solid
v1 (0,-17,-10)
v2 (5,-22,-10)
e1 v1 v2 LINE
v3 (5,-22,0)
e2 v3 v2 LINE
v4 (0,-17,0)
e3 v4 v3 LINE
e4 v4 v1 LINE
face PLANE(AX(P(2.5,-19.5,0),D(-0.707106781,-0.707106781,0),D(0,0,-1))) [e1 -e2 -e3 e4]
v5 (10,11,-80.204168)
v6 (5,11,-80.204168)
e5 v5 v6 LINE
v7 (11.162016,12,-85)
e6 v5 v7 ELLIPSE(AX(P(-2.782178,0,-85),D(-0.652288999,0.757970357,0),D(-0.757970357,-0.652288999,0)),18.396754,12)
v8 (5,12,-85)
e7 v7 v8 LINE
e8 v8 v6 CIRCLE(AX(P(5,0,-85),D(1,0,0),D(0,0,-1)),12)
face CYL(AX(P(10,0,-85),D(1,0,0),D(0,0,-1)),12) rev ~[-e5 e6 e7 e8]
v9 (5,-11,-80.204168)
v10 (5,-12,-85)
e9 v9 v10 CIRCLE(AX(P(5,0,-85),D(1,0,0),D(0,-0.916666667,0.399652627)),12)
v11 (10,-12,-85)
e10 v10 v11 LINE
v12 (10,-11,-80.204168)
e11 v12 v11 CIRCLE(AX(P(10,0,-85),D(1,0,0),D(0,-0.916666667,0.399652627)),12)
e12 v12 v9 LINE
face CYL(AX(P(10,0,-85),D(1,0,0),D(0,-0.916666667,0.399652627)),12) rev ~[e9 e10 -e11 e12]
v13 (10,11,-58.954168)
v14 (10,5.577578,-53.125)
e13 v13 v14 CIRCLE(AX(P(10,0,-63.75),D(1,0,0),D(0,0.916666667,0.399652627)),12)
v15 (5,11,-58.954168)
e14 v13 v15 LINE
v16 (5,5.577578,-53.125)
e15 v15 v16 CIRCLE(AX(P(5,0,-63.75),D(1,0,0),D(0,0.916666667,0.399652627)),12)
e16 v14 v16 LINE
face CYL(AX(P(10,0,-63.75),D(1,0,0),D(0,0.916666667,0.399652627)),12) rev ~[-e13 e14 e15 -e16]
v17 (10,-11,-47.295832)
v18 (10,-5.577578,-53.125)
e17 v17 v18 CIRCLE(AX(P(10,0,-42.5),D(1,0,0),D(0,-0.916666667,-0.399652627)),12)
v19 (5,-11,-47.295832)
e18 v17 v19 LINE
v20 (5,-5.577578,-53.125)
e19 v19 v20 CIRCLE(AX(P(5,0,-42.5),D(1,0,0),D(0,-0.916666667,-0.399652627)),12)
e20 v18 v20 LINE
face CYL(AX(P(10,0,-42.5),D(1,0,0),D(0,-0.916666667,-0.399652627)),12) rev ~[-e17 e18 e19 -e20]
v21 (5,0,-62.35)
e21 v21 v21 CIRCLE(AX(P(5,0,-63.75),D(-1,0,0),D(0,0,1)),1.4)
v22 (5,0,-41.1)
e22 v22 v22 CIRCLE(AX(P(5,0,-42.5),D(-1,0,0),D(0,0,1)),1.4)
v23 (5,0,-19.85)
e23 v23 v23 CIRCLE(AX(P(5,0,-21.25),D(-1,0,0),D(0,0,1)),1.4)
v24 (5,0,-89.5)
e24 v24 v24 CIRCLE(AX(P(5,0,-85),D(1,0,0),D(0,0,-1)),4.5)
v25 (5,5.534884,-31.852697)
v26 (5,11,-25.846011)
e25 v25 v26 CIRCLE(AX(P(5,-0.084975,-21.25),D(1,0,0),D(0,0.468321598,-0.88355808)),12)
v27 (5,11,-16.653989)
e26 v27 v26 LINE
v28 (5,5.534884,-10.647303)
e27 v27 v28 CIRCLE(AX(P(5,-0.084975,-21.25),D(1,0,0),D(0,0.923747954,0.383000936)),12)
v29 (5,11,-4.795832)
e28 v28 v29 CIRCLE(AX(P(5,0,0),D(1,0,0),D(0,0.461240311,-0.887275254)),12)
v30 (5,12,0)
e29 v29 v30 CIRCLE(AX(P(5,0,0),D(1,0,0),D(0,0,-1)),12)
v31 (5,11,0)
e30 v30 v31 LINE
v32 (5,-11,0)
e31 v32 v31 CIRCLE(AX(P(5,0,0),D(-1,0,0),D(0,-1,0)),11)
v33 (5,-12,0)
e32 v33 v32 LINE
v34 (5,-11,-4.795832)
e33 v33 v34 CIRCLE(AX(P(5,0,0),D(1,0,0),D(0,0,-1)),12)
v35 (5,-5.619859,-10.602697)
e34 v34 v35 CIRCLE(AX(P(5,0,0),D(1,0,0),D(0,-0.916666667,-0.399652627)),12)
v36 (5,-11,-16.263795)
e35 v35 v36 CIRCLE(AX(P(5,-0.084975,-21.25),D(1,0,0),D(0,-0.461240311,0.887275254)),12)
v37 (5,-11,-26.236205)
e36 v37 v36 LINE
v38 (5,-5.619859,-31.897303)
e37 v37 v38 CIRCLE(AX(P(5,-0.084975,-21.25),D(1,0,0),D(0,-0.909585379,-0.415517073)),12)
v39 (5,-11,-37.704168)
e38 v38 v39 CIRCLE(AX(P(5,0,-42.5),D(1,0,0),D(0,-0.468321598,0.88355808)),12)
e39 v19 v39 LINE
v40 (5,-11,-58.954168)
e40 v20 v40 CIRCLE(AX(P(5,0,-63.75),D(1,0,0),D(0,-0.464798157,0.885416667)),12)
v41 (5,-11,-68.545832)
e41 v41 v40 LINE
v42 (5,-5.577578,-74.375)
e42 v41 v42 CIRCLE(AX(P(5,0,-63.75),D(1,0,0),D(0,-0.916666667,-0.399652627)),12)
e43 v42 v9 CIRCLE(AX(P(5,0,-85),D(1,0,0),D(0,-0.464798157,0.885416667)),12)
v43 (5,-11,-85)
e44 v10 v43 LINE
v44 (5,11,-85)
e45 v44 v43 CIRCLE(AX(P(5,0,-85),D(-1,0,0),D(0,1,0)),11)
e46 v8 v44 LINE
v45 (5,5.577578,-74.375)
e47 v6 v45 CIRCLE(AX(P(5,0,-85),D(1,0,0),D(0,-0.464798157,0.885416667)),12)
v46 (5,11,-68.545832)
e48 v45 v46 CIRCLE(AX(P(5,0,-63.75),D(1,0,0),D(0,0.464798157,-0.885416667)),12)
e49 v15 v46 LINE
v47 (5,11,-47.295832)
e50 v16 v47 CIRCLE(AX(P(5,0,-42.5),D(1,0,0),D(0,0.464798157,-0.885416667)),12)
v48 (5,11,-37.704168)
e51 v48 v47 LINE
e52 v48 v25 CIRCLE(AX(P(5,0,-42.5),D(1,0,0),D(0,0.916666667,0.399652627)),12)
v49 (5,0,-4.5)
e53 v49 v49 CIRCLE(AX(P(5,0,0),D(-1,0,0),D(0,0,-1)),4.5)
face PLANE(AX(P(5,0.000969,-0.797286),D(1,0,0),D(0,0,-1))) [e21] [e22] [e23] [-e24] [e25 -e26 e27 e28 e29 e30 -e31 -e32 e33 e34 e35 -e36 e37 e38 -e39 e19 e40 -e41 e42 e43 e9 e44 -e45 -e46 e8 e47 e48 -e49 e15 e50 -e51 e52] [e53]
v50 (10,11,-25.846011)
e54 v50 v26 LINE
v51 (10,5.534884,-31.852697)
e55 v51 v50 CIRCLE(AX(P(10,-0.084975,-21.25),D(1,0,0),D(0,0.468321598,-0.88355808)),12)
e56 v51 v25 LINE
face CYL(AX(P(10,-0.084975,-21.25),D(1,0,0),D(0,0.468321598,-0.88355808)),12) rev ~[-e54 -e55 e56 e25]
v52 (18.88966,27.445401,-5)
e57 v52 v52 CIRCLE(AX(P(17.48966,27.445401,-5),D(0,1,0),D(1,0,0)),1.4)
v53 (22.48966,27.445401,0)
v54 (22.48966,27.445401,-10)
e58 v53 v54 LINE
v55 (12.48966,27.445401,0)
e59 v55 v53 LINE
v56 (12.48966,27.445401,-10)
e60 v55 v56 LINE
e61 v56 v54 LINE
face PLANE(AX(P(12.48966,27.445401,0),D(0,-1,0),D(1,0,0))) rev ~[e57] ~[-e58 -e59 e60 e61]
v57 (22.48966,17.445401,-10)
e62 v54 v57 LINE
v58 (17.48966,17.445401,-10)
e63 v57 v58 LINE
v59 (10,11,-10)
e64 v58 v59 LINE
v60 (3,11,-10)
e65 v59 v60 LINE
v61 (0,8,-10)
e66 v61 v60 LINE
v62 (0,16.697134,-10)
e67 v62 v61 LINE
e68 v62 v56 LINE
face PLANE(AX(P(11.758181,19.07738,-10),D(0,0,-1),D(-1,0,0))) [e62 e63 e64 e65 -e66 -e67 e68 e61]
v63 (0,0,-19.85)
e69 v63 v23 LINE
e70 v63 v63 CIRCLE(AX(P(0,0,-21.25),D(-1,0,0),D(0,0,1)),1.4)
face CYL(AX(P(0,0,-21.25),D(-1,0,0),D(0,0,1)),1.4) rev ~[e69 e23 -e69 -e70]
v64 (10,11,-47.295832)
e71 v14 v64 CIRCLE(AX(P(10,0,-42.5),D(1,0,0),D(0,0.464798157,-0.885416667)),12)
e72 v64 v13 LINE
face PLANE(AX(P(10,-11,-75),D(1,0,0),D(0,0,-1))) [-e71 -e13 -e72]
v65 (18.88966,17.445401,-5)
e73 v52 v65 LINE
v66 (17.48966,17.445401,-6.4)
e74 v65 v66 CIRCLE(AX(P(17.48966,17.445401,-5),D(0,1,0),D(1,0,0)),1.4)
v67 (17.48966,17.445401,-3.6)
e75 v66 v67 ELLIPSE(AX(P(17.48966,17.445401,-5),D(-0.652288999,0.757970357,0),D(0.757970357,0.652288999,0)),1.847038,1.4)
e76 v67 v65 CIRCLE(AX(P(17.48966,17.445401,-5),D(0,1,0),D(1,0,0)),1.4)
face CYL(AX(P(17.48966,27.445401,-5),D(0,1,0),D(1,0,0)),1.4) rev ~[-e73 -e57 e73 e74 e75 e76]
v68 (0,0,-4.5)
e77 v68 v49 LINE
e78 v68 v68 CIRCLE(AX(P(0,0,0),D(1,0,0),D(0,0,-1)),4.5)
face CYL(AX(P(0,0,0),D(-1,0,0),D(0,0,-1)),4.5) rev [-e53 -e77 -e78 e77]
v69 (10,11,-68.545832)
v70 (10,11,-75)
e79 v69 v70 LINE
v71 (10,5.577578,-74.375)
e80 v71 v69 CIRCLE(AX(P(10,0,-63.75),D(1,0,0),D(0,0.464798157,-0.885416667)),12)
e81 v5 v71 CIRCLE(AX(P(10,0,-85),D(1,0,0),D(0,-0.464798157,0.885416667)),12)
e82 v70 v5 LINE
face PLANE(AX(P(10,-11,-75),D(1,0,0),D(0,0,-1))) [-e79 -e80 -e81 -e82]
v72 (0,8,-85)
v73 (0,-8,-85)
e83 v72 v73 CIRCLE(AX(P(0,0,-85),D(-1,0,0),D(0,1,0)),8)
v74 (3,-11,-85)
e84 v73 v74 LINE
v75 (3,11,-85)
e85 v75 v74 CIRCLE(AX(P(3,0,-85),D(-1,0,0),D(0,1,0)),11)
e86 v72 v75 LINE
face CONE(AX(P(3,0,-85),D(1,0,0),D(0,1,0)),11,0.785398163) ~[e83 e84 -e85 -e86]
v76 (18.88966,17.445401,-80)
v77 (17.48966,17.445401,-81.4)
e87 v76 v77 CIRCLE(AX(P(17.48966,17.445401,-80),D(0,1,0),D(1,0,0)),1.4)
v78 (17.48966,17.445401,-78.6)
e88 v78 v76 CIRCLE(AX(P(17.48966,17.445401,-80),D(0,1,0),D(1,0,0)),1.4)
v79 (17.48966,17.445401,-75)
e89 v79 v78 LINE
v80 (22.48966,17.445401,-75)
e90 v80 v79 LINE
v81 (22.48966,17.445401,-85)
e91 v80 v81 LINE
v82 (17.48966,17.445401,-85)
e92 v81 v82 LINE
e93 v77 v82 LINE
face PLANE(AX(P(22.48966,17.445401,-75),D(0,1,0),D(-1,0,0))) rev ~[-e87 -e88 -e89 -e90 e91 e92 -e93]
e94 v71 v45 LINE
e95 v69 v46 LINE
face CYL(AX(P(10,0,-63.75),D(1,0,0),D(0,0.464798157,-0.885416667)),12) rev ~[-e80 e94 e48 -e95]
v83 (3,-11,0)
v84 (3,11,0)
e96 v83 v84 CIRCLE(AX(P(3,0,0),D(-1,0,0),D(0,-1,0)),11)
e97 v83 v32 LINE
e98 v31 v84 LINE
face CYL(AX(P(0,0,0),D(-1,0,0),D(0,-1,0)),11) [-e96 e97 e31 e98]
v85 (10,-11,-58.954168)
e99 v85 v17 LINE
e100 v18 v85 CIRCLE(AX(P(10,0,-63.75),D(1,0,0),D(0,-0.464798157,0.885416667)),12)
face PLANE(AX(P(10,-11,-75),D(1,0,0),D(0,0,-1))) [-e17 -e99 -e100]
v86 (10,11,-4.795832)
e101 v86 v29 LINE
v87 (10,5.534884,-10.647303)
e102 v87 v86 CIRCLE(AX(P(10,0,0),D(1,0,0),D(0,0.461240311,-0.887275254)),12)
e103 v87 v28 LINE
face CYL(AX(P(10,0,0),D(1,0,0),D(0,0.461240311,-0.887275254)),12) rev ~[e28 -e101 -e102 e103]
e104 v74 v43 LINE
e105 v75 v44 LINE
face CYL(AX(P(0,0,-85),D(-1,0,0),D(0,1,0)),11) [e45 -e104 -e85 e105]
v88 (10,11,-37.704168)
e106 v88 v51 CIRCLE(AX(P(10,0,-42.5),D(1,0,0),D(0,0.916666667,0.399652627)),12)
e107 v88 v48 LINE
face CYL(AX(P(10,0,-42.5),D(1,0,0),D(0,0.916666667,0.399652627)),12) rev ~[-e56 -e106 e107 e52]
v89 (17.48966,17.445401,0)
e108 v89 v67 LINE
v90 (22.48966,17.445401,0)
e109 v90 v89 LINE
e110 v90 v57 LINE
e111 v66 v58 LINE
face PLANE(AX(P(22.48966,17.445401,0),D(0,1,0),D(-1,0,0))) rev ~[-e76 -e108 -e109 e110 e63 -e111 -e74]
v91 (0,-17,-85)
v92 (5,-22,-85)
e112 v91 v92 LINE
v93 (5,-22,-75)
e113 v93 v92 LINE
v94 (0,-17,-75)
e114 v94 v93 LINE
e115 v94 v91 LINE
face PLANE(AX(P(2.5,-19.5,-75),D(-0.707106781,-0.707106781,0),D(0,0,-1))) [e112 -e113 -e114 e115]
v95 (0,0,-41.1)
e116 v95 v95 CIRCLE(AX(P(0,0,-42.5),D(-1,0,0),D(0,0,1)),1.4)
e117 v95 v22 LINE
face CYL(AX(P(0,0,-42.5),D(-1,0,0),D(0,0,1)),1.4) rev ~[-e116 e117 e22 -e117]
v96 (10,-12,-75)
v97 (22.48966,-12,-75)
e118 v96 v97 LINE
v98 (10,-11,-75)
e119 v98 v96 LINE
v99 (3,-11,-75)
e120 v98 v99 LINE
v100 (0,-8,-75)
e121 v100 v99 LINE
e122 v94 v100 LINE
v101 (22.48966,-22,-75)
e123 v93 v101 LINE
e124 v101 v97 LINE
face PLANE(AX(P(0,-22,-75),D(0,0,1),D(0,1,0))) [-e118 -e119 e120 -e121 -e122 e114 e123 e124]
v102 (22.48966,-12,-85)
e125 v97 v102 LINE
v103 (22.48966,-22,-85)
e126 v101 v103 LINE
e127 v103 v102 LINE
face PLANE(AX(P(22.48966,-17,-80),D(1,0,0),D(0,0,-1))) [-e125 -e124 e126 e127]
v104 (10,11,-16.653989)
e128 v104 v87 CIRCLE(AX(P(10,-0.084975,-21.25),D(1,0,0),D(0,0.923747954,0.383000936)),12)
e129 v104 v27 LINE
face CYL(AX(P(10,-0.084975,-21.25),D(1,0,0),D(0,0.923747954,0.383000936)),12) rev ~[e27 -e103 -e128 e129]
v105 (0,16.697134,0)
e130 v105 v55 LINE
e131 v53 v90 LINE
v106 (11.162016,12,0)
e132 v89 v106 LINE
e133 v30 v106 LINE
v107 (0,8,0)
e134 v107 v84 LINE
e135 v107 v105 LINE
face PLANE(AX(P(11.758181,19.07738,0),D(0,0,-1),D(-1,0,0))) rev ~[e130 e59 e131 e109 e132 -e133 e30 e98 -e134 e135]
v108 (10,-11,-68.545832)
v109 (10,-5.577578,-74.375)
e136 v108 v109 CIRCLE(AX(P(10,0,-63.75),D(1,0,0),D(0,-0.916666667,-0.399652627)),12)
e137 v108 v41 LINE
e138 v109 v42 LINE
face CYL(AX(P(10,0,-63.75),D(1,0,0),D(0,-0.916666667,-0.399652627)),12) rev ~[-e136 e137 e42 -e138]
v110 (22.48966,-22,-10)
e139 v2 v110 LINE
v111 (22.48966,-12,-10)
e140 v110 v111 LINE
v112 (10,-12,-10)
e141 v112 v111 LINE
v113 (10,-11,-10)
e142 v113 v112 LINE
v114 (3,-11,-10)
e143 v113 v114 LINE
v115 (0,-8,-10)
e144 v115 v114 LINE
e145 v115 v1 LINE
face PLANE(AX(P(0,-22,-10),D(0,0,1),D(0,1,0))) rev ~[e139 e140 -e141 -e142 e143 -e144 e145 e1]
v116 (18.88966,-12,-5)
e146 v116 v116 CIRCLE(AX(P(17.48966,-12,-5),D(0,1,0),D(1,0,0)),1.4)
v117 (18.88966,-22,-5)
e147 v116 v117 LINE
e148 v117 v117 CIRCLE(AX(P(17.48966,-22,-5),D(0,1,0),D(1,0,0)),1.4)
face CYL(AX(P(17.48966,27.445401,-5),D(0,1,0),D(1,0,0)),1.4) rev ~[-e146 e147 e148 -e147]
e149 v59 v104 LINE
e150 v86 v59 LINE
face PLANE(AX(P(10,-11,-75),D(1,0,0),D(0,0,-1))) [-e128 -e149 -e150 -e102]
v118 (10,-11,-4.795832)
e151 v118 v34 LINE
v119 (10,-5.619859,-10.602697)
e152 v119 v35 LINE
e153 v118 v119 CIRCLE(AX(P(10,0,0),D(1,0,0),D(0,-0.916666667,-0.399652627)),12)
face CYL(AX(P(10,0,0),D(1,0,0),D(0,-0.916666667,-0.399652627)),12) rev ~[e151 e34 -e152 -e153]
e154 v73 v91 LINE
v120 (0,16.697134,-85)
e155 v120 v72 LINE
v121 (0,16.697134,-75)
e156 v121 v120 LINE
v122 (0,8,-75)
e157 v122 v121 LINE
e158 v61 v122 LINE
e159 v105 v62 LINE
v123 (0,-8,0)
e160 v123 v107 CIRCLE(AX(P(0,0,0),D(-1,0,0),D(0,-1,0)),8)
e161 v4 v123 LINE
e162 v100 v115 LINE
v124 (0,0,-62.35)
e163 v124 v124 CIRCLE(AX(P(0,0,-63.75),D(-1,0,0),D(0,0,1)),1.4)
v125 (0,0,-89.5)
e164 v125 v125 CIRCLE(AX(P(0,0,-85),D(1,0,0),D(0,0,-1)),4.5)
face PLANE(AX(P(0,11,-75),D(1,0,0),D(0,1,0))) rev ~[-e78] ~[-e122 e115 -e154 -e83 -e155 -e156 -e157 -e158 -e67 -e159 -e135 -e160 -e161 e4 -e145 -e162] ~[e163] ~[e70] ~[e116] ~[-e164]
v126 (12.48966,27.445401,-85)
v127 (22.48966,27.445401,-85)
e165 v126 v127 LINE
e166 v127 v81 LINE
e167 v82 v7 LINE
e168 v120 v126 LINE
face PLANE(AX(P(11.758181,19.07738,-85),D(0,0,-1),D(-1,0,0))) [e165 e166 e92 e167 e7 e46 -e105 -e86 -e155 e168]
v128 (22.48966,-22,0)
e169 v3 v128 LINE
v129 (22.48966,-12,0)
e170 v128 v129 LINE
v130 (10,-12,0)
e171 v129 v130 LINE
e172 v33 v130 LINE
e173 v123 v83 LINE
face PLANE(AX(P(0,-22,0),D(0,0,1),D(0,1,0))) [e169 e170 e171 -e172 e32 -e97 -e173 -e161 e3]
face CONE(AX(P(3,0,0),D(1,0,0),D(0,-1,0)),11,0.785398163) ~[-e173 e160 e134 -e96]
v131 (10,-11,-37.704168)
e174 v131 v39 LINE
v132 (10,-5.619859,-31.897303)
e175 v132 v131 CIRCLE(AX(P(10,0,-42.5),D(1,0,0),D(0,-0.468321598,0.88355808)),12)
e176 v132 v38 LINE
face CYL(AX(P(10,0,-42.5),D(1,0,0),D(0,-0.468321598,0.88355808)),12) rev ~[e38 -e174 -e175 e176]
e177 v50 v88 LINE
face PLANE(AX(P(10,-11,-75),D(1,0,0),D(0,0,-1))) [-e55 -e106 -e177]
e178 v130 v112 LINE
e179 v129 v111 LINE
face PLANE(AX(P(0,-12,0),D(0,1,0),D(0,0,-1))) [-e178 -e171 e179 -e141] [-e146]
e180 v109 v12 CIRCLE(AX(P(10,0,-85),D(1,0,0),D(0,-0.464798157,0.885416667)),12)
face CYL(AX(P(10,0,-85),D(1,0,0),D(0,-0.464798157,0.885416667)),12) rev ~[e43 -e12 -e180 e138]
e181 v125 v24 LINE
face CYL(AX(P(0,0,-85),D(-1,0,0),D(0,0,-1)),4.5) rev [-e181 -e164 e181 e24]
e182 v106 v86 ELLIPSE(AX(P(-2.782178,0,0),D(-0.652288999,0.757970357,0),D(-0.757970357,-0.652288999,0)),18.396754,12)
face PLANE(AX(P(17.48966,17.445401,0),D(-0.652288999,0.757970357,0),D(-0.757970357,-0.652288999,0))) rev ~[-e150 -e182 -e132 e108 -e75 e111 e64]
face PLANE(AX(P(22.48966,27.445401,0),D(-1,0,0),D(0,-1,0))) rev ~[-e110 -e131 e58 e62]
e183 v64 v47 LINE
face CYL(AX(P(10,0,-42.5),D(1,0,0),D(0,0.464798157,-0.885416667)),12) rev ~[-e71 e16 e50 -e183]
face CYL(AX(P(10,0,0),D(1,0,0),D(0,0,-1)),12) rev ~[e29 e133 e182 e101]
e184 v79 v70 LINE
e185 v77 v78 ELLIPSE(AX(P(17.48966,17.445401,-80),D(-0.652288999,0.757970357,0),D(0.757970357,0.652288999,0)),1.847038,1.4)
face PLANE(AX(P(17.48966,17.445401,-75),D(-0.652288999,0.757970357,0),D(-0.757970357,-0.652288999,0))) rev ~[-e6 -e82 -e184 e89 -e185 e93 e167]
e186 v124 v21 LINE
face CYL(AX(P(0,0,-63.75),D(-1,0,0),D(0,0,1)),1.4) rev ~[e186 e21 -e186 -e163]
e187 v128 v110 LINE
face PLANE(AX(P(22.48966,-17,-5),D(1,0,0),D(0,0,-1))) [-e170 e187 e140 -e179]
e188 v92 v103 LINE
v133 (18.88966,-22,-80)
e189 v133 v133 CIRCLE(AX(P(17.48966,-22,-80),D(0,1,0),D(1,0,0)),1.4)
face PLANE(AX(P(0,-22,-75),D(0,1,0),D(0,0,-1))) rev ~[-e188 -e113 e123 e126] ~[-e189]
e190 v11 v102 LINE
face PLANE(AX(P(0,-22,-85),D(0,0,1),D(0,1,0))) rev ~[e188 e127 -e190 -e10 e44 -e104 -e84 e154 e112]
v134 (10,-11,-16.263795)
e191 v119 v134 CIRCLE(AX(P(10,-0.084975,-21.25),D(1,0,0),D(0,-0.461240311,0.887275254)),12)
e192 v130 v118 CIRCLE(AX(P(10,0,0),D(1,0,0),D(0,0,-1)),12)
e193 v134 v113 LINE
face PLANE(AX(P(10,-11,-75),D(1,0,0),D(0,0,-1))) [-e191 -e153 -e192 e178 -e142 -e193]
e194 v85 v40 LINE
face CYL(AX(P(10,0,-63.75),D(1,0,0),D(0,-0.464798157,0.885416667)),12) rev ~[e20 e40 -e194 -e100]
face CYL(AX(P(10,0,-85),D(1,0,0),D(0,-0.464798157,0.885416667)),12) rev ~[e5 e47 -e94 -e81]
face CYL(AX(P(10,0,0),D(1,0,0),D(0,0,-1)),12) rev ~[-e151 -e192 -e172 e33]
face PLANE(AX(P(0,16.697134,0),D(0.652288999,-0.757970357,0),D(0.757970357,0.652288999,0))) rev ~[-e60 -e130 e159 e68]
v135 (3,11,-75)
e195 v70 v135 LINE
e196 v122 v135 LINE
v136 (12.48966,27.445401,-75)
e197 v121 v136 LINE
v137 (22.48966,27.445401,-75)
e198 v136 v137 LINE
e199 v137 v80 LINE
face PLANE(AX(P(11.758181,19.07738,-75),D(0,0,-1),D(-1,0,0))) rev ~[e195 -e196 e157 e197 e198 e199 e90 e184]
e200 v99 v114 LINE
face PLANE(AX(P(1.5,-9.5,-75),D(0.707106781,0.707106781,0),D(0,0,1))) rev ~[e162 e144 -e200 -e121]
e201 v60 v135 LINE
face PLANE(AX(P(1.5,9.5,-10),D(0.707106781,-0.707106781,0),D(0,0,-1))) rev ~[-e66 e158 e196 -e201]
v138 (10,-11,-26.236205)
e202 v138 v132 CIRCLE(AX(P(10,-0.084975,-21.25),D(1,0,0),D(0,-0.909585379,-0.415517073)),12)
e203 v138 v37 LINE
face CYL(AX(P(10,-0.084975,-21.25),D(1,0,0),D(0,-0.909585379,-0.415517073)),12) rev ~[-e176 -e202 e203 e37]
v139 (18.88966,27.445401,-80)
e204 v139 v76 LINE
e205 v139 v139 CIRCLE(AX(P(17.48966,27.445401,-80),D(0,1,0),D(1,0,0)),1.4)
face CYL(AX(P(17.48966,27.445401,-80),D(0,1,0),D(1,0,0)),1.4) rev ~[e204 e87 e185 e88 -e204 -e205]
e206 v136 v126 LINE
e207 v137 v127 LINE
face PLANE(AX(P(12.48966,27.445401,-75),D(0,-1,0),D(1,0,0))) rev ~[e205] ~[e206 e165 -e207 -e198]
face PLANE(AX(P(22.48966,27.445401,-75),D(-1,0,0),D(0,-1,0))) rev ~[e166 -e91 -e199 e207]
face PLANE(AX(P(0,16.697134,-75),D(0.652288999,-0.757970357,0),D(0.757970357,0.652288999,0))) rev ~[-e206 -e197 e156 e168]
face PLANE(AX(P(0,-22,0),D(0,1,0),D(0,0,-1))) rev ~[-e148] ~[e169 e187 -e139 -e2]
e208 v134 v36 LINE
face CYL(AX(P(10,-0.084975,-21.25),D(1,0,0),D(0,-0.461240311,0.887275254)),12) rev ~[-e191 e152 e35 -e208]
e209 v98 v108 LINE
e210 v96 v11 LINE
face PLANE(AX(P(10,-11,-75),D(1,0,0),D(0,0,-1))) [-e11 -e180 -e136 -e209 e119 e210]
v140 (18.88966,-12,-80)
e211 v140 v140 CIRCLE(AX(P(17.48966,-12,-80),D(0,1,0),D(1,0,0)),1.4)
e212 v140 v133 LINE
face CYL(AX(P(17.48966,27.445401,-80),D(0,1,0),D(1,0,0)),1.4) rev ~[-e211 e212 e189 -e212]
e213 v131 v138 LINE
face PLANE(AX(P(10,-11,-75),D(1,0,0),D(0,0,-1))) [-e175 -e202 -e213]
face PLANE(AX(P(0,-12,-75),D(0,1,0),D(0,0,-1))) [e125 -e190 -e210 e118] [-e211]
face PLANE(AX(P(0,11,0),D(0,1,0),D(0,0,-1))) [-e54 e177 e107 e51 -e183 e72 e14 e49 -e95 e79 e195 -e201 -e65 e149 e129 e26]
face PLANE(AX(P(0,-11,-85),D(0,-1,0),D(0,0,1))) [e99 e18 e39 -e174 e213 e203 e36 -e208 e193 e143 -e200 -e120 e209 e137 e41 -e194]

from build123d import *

# Parameters (mm, degrees)
SKETCH1_R                  = 4.5
BOSS_EXTRUDE1_DEPTH        = 10
SKETCH3_R                  = 1.4
CUT_EXTRUDE1_DEPTH         = 11
BOSS_EXTRUDE2_DEPTH        = 10
LPATTERN1_COUNT            = 2
LPATTERN1_PITCH            = 75
SKETCH8_W                  = 10
SKETCH8_H                  = 10
BOSS_EXTRUDE3_DEPTH        = 1
BOSS_EXTRUDE5_START        = -10
SKETCH10_W                 = 10
SKETCH10_H                 = 10
BOSS_EXTRUDE5_DEPTH        = 22.48966
CHAMFER3_SIZE              = 5
LPATTERN3_COUNT            = 2
LPATTERN3_PITCH            = 75
CHAMFER3_OF_LPATTERN3_SIZE = 5
SKETCH6_R                  = 4.5
SKETCH6_R_2                = 1.4
SKETCH6_R_3                = 12
CUT_EXTRUDE3_DEPTH         = 10
CUT_EXTRUDE3_DEPTH_BACK    = 5
SKETCH15_R                 = 1.4
CUT_EXTRUDE4_DEPTH         = 70
CHAMFER4_SIZE              = 3


with BuildPart() as part:
    # Sketch1 → Boss-Extrude1 (new body)
    with BuildSketch(Plane(origin=(0, 0, 0), x_dir=(0, 0, -1), z_dir=(1, 0, 0))):
        with BuildLine():
            Line((0, 11), (85, 11))
            ThreePointArc((85, 11), (96, 0), (85, -11))
            Line((85, -11), (0, -11))
            ThreePointArc((0, -11), (-11, 0), (0, 11))
        make_face()
        Circle(SKETCH1_R, mode=Mode.SUBTRACT)
        with Locations((85, 0)):
            Circle(SKETCH1_R, mode=Mode.SUBTRACT)
    extrude(amount=BOSS_EXTRUDE1_DEPTH)

    # Sketch3 → Cut-Extrude1 (cut, through all)
    with BuildSketch(Plane.ZY):
        with Locations((-42.5, 0)):
            Circle(SKETCH3_R)
        with Locations((-63.75, 0)):
            Circle(SKETCH3_R)
        with Locations((-21.25, 0)):
            Circle(SKETCH3_R)
        with Locations((-148.75, 0)):
            Circle(SKETCH3_R)
        with Locations((-127.5, 0)):
            Circle(SKETCH3_R)
        with Locations((-106.25, 0)):
            Circle(SKETCH3_R)
    extrude(amount=-CUT_EXTRUDE1_DEPTH, mode=Mode.SUBTRACT)

    # Sketch8 → Boss-Extrude3 (add)
    with BuildSketch(Plane(origin=(0, -11, 0), x_dir=(-1, 0, 0), z_dir=(0, -1, 0))):
        with Locations((-5, 5)):
            Rectangle(SKETCH8_W, SKETCH8_H)
    boss_extrude3 = extrude(amount=BOSS_EXTRUDE3_DEPTH)

    # Sketch10 → Boss-Extrude5 (add)
    with BuildSketch(Plane(origin=(10, 0, 0), x_dir=(0, 0, -1), z_dir=(1, 0, 0)).offset(BOSS_EXTRUDE5_START)):
        with Locations((5, -17)):
            Rectangle(SKETCH10_W, SKETCH10_H)
    boss_extrude5 = extrude(amount=BOSS_EXTRUDE5_DEPTH)

    # Chamfer3
    chamfer3_edges = [part.edges().sort_by_distance(p)[0] for p in [
        (0, -22, -5),
    ]]
    chamfer(chamfer3_edges, length=CHAMFER3_SIZE)

    # LPattern3: Boss-Extrude3, Boss-Extrude5 ×2
    with Locations(*[(0, 0, -i * LPATTERN3_PITCH) for i in range(1, LPATTERN3_COUNT)]):
        add(boss_extrude3)
        add(boss_extrude5)

    # Chamfer3 of LPattern3
    chamfer3_of_lpattern3_edges = [part.edges().sort_by_distance(p)[0] for p in [
        (0, -22, -80),
    ]]
    chamfer(chamfer3_of_lpattern3_edges, length=CHAMFER3_OF_LPATTERN3_SIZE)


with BuildPart() as body_2:
    # Sketch7 → Boss-Extrude2 (new body)
    with BuildSketch(Plane.XY):
        Polygon((0, 11), (0, 16.697133846), (12.489660366, 27.445401219), (22.489660366, 27.445401219), (22.489660366, 17.445401219), (17.489660366, 17.445401219), (10, 11), align=None)
    boss_extrude2 = extrude(amount=-BOSS_EXTRUDE2_DEPTH)


with BuildPart() as lpattern1_1:
    # LPattern1: Boss-Extrude2 ×2
    with Locations(*[(0, 0, -i * LPATTERN1_PITCH) for i in range(1, LPATTERN1_COUNT)]):
        add(boss_extrude2)


with BuildPart() as body_2_1:
    add(body_2.part)

    # Combine1: union part, LPattern1_1
    add(part.part)
    add(lpattern1_1.part)

    # Sketch6 → Cut-Extrude3 (cut, two sides)
    with BuildSketch(Plane(origin=(10, 0, 0), x_dir=(0, 0, -1), z_dir=(1, 0, 0))) as cut_extrude3_sk:
        with BuildLine():
            ThreePointArc((10.602696958, -5.619859181), (9.250095943, -0.036989697), (10.647303042, 5.534883732))
            ThreePointArc((10.647303042, 5.534883732), (8.190816519, 8.76986458), (4.795831523, 11))
            Line((4.795831523, 11), (0, 11))
            ThreePointArc((0, 11), (-11, 0), (0, -11))
            Line((0, -11), (4.795831523, -11))
            ThreePointArc((4.795831523, -11), (8.155681986, -8.802548003), (10.602696958, -5.619859181))
        make_face()
        Circle(SKETCH6_R, mode=Mode.SUBTRACT)
        with BuildLine():
            ThreePointArc((10.647303042, 5.534883732), (11.656921474, 2.848891319), (12, 0))
            ThreePointArc((12, 0), (11.645436091, -2.895482387), (10.602696958, -5.619859181))
            ThreePointArc((10.602696958, -5.619859181), (12.983312559, -8.783359135), (16.263795125, -11))
            Line((16.263795125, -11), (26.236204875, -11))
            ThreePointArc((26.236204875, -11), (29.516687441, -8.783359135), (31.897303042, -5.619859181))
            ThreePointArc((31.897303042, -5.619859181), (30.500095943, -0.047985752), (31.852696958, 5.534883732))
            ThreePointArc((31.852696958, 5.534883732), (29.325707811, 8.791000179), (25.846011237, 11))
            Line((25.846011237, 11), (16.653988763, 11))
            ThreePointArc((16.653988763, 11), (13.174292189, 8.791000179), (10.647303042, 5.534883732))
        make_face()
        with Locations((21.25, 0)):
            Circle(SKETCH6_R_2, mode=Mode.SUBTRACT)
        Circle(SKETCH6_R_3)
        with Locations((21.25, -0.084975449)):
            Circle(SKETCH6_R_3)
        with BuildLine():
            ThreePointArc((37.704168477, 11), (34.309183481, 8.76986458), (31.852696958, 5.534883732))
            ThreePointArc((31.852696958, 5.534883732), (32.895436091, 2.810506938), (33.25, -0.084975449))
            ThreePointArc((33.25, -0.084975449), (32.906921474, -2.933866768), (31.897303042, -5.619859181))
            ThreePointArc((31.897303042, -5.619859181), (34.344318014, -8.802548003), (37.704168477, -11))
            Line((37.704168477, -11), (47.295831523, -11))
            ThreePointArc((47.295831523, -11), (50.673198678, -8.786286096), (53.125, -5.577577879))
            ThreePointArc((53.125, -5.577577879), (51.75, 0), (53.125, 5.577577879))
            ThreePointArc((53.125, 5.577577879), (50.673198678, 8.786286096), (47.295831523, 11))
            Line((47.295831523, 11), (37.704168477, 11))
        make_face()
        with Locations((42.5, 0)):
            Circle(SKETCH6_R_2, mode=Mode.SUBTRACT)
        with Locations((42.5, 0)):
            Circle(SKETCH6_R_3)
        with BuildLine():
            ThreePointArc((58.954168477, 11), (55.576801322, 8.786286096), (53.125, 5.577577879))
            ThreePointArc((53.125, 5.577577879), (54.151180198, 2.872281323), (54.5, 0))
            ThreePointArc((54.5, 0), (54.151180198, -2.872281323), (53.125, -5.577577879))
            ThreePointArc((53.125, -5.577577879), (55.576801322, -8.786286096), (58.954168477, -11))
            Line((58.954168477, -11), (68.545831523, -11))
            ThreePointArc((68.545831523, -11), (71.923198678, -8.786286096), (74.375, -5.577577879))
            ThreePointArc((74.375, -5.577577879), (73, 0), (74.375, 5.577577879))
            ThreePointArc((74.375, 5.577577879), (71.923198678, 8.786286096), (68.545831523, 11))
            Line((68.545831523, 11), (58.954168477, 11))
        make_face()
        with Locations((63.75, 0)):
            Circle(SKETCH6_R_2, mode=Mode.SUBTRACT)
        with Locations((63.75, 0)):
            Circle(SKETCH6_R_3)
        with Locations((85, 0)):
            Circle(SKETCH6_R_3)
        with BuildLine():
            ThreePointArc((80.204168477, 11), (76.826801322, 8.786286096), (74.375, 5.577577879))
            ThreePointArc((74.375, 5.577577879), (75.401180198, 2.872281323), (75.75, 0))
            ThreePointArc((75.75, 0), (75.401180198, -2.872281323), (74.375, -5.577577879))
            ThreePointArc((74.375, -5.577577879), (76.826801322, -8.786286096), (80.204168477, -11))
            Line((80.204168477, -11), (85, -11))
            ThreePointArc((85, -11), (96, 0), (85, 11))
            Line((85, 11), (80.204168477, 11))
        make_face()
        with Locations((85, 0)):
            Circle(SKETCH6_R, mode=Mode.SUBTRACT)
        with BuildLine():
            Line((0, 11), (4.795831523, 11))
            ThreePointArc((4.795831523, 11), (-12, 0), (4.795831523, -11))
            Line((4.795831523, -11), (0, -11))
            ThreePointArc((0, -11), (-11, 0), (0, 11))
        make_face()
        with BuildLine():
            ThreePointArc((97, 0), (91.574573055, 10.03867467), (80.204168477, 11))
            Line((80.204168477, 11), (85, 11))
            ThreePointArc((85, 11), (96, 0), (85, -11))
            Line((85, -11), (80.204168477, -11))
            ThreePointArc((80.204168477, -11), (91.574573055, -10.03867467), (97, 0))
        make_face()
    extrude(amount=CUT_EXTRUDE3_DEPTH, mode=Mode.SUBTRACT)
    extrude(cut_extrude3_sk.sketch, amount=-CUT_EXTRUDE3_DEPTH_BACK, mode=Mode.SUBTRACT)

    # Sketch15 → Cut-Extrude4 (cut)
    with BuildSketch(Plane(origin=(0, 27.445401219, 0), x_dir=(1, 0, 0), z_dir=(0, 1, 0))):
        with Locations((17.489660366, 80)):
            Circle(SKETCH15_R)
        with Locations((17.489660366, 5)):
            Circle(SKETCH15_R)
    extrude(amount=-CUT_EXTRUDE4_DEPTH, mode=Mode.SUBTRACT)

    # Chamfer4
    chamfer4_edges = [body_2_1.edges().sort_by_distance(p)[0] for p in [
        (0, -11, -42.5),
        (0, 11, -42.5),
        (0, 0, -96),
        (0, 0, 11),
    ]]
    chamfer(chamfer4_edges, length=CHAMFER4_SIZE)


solid = body_2_1.part
